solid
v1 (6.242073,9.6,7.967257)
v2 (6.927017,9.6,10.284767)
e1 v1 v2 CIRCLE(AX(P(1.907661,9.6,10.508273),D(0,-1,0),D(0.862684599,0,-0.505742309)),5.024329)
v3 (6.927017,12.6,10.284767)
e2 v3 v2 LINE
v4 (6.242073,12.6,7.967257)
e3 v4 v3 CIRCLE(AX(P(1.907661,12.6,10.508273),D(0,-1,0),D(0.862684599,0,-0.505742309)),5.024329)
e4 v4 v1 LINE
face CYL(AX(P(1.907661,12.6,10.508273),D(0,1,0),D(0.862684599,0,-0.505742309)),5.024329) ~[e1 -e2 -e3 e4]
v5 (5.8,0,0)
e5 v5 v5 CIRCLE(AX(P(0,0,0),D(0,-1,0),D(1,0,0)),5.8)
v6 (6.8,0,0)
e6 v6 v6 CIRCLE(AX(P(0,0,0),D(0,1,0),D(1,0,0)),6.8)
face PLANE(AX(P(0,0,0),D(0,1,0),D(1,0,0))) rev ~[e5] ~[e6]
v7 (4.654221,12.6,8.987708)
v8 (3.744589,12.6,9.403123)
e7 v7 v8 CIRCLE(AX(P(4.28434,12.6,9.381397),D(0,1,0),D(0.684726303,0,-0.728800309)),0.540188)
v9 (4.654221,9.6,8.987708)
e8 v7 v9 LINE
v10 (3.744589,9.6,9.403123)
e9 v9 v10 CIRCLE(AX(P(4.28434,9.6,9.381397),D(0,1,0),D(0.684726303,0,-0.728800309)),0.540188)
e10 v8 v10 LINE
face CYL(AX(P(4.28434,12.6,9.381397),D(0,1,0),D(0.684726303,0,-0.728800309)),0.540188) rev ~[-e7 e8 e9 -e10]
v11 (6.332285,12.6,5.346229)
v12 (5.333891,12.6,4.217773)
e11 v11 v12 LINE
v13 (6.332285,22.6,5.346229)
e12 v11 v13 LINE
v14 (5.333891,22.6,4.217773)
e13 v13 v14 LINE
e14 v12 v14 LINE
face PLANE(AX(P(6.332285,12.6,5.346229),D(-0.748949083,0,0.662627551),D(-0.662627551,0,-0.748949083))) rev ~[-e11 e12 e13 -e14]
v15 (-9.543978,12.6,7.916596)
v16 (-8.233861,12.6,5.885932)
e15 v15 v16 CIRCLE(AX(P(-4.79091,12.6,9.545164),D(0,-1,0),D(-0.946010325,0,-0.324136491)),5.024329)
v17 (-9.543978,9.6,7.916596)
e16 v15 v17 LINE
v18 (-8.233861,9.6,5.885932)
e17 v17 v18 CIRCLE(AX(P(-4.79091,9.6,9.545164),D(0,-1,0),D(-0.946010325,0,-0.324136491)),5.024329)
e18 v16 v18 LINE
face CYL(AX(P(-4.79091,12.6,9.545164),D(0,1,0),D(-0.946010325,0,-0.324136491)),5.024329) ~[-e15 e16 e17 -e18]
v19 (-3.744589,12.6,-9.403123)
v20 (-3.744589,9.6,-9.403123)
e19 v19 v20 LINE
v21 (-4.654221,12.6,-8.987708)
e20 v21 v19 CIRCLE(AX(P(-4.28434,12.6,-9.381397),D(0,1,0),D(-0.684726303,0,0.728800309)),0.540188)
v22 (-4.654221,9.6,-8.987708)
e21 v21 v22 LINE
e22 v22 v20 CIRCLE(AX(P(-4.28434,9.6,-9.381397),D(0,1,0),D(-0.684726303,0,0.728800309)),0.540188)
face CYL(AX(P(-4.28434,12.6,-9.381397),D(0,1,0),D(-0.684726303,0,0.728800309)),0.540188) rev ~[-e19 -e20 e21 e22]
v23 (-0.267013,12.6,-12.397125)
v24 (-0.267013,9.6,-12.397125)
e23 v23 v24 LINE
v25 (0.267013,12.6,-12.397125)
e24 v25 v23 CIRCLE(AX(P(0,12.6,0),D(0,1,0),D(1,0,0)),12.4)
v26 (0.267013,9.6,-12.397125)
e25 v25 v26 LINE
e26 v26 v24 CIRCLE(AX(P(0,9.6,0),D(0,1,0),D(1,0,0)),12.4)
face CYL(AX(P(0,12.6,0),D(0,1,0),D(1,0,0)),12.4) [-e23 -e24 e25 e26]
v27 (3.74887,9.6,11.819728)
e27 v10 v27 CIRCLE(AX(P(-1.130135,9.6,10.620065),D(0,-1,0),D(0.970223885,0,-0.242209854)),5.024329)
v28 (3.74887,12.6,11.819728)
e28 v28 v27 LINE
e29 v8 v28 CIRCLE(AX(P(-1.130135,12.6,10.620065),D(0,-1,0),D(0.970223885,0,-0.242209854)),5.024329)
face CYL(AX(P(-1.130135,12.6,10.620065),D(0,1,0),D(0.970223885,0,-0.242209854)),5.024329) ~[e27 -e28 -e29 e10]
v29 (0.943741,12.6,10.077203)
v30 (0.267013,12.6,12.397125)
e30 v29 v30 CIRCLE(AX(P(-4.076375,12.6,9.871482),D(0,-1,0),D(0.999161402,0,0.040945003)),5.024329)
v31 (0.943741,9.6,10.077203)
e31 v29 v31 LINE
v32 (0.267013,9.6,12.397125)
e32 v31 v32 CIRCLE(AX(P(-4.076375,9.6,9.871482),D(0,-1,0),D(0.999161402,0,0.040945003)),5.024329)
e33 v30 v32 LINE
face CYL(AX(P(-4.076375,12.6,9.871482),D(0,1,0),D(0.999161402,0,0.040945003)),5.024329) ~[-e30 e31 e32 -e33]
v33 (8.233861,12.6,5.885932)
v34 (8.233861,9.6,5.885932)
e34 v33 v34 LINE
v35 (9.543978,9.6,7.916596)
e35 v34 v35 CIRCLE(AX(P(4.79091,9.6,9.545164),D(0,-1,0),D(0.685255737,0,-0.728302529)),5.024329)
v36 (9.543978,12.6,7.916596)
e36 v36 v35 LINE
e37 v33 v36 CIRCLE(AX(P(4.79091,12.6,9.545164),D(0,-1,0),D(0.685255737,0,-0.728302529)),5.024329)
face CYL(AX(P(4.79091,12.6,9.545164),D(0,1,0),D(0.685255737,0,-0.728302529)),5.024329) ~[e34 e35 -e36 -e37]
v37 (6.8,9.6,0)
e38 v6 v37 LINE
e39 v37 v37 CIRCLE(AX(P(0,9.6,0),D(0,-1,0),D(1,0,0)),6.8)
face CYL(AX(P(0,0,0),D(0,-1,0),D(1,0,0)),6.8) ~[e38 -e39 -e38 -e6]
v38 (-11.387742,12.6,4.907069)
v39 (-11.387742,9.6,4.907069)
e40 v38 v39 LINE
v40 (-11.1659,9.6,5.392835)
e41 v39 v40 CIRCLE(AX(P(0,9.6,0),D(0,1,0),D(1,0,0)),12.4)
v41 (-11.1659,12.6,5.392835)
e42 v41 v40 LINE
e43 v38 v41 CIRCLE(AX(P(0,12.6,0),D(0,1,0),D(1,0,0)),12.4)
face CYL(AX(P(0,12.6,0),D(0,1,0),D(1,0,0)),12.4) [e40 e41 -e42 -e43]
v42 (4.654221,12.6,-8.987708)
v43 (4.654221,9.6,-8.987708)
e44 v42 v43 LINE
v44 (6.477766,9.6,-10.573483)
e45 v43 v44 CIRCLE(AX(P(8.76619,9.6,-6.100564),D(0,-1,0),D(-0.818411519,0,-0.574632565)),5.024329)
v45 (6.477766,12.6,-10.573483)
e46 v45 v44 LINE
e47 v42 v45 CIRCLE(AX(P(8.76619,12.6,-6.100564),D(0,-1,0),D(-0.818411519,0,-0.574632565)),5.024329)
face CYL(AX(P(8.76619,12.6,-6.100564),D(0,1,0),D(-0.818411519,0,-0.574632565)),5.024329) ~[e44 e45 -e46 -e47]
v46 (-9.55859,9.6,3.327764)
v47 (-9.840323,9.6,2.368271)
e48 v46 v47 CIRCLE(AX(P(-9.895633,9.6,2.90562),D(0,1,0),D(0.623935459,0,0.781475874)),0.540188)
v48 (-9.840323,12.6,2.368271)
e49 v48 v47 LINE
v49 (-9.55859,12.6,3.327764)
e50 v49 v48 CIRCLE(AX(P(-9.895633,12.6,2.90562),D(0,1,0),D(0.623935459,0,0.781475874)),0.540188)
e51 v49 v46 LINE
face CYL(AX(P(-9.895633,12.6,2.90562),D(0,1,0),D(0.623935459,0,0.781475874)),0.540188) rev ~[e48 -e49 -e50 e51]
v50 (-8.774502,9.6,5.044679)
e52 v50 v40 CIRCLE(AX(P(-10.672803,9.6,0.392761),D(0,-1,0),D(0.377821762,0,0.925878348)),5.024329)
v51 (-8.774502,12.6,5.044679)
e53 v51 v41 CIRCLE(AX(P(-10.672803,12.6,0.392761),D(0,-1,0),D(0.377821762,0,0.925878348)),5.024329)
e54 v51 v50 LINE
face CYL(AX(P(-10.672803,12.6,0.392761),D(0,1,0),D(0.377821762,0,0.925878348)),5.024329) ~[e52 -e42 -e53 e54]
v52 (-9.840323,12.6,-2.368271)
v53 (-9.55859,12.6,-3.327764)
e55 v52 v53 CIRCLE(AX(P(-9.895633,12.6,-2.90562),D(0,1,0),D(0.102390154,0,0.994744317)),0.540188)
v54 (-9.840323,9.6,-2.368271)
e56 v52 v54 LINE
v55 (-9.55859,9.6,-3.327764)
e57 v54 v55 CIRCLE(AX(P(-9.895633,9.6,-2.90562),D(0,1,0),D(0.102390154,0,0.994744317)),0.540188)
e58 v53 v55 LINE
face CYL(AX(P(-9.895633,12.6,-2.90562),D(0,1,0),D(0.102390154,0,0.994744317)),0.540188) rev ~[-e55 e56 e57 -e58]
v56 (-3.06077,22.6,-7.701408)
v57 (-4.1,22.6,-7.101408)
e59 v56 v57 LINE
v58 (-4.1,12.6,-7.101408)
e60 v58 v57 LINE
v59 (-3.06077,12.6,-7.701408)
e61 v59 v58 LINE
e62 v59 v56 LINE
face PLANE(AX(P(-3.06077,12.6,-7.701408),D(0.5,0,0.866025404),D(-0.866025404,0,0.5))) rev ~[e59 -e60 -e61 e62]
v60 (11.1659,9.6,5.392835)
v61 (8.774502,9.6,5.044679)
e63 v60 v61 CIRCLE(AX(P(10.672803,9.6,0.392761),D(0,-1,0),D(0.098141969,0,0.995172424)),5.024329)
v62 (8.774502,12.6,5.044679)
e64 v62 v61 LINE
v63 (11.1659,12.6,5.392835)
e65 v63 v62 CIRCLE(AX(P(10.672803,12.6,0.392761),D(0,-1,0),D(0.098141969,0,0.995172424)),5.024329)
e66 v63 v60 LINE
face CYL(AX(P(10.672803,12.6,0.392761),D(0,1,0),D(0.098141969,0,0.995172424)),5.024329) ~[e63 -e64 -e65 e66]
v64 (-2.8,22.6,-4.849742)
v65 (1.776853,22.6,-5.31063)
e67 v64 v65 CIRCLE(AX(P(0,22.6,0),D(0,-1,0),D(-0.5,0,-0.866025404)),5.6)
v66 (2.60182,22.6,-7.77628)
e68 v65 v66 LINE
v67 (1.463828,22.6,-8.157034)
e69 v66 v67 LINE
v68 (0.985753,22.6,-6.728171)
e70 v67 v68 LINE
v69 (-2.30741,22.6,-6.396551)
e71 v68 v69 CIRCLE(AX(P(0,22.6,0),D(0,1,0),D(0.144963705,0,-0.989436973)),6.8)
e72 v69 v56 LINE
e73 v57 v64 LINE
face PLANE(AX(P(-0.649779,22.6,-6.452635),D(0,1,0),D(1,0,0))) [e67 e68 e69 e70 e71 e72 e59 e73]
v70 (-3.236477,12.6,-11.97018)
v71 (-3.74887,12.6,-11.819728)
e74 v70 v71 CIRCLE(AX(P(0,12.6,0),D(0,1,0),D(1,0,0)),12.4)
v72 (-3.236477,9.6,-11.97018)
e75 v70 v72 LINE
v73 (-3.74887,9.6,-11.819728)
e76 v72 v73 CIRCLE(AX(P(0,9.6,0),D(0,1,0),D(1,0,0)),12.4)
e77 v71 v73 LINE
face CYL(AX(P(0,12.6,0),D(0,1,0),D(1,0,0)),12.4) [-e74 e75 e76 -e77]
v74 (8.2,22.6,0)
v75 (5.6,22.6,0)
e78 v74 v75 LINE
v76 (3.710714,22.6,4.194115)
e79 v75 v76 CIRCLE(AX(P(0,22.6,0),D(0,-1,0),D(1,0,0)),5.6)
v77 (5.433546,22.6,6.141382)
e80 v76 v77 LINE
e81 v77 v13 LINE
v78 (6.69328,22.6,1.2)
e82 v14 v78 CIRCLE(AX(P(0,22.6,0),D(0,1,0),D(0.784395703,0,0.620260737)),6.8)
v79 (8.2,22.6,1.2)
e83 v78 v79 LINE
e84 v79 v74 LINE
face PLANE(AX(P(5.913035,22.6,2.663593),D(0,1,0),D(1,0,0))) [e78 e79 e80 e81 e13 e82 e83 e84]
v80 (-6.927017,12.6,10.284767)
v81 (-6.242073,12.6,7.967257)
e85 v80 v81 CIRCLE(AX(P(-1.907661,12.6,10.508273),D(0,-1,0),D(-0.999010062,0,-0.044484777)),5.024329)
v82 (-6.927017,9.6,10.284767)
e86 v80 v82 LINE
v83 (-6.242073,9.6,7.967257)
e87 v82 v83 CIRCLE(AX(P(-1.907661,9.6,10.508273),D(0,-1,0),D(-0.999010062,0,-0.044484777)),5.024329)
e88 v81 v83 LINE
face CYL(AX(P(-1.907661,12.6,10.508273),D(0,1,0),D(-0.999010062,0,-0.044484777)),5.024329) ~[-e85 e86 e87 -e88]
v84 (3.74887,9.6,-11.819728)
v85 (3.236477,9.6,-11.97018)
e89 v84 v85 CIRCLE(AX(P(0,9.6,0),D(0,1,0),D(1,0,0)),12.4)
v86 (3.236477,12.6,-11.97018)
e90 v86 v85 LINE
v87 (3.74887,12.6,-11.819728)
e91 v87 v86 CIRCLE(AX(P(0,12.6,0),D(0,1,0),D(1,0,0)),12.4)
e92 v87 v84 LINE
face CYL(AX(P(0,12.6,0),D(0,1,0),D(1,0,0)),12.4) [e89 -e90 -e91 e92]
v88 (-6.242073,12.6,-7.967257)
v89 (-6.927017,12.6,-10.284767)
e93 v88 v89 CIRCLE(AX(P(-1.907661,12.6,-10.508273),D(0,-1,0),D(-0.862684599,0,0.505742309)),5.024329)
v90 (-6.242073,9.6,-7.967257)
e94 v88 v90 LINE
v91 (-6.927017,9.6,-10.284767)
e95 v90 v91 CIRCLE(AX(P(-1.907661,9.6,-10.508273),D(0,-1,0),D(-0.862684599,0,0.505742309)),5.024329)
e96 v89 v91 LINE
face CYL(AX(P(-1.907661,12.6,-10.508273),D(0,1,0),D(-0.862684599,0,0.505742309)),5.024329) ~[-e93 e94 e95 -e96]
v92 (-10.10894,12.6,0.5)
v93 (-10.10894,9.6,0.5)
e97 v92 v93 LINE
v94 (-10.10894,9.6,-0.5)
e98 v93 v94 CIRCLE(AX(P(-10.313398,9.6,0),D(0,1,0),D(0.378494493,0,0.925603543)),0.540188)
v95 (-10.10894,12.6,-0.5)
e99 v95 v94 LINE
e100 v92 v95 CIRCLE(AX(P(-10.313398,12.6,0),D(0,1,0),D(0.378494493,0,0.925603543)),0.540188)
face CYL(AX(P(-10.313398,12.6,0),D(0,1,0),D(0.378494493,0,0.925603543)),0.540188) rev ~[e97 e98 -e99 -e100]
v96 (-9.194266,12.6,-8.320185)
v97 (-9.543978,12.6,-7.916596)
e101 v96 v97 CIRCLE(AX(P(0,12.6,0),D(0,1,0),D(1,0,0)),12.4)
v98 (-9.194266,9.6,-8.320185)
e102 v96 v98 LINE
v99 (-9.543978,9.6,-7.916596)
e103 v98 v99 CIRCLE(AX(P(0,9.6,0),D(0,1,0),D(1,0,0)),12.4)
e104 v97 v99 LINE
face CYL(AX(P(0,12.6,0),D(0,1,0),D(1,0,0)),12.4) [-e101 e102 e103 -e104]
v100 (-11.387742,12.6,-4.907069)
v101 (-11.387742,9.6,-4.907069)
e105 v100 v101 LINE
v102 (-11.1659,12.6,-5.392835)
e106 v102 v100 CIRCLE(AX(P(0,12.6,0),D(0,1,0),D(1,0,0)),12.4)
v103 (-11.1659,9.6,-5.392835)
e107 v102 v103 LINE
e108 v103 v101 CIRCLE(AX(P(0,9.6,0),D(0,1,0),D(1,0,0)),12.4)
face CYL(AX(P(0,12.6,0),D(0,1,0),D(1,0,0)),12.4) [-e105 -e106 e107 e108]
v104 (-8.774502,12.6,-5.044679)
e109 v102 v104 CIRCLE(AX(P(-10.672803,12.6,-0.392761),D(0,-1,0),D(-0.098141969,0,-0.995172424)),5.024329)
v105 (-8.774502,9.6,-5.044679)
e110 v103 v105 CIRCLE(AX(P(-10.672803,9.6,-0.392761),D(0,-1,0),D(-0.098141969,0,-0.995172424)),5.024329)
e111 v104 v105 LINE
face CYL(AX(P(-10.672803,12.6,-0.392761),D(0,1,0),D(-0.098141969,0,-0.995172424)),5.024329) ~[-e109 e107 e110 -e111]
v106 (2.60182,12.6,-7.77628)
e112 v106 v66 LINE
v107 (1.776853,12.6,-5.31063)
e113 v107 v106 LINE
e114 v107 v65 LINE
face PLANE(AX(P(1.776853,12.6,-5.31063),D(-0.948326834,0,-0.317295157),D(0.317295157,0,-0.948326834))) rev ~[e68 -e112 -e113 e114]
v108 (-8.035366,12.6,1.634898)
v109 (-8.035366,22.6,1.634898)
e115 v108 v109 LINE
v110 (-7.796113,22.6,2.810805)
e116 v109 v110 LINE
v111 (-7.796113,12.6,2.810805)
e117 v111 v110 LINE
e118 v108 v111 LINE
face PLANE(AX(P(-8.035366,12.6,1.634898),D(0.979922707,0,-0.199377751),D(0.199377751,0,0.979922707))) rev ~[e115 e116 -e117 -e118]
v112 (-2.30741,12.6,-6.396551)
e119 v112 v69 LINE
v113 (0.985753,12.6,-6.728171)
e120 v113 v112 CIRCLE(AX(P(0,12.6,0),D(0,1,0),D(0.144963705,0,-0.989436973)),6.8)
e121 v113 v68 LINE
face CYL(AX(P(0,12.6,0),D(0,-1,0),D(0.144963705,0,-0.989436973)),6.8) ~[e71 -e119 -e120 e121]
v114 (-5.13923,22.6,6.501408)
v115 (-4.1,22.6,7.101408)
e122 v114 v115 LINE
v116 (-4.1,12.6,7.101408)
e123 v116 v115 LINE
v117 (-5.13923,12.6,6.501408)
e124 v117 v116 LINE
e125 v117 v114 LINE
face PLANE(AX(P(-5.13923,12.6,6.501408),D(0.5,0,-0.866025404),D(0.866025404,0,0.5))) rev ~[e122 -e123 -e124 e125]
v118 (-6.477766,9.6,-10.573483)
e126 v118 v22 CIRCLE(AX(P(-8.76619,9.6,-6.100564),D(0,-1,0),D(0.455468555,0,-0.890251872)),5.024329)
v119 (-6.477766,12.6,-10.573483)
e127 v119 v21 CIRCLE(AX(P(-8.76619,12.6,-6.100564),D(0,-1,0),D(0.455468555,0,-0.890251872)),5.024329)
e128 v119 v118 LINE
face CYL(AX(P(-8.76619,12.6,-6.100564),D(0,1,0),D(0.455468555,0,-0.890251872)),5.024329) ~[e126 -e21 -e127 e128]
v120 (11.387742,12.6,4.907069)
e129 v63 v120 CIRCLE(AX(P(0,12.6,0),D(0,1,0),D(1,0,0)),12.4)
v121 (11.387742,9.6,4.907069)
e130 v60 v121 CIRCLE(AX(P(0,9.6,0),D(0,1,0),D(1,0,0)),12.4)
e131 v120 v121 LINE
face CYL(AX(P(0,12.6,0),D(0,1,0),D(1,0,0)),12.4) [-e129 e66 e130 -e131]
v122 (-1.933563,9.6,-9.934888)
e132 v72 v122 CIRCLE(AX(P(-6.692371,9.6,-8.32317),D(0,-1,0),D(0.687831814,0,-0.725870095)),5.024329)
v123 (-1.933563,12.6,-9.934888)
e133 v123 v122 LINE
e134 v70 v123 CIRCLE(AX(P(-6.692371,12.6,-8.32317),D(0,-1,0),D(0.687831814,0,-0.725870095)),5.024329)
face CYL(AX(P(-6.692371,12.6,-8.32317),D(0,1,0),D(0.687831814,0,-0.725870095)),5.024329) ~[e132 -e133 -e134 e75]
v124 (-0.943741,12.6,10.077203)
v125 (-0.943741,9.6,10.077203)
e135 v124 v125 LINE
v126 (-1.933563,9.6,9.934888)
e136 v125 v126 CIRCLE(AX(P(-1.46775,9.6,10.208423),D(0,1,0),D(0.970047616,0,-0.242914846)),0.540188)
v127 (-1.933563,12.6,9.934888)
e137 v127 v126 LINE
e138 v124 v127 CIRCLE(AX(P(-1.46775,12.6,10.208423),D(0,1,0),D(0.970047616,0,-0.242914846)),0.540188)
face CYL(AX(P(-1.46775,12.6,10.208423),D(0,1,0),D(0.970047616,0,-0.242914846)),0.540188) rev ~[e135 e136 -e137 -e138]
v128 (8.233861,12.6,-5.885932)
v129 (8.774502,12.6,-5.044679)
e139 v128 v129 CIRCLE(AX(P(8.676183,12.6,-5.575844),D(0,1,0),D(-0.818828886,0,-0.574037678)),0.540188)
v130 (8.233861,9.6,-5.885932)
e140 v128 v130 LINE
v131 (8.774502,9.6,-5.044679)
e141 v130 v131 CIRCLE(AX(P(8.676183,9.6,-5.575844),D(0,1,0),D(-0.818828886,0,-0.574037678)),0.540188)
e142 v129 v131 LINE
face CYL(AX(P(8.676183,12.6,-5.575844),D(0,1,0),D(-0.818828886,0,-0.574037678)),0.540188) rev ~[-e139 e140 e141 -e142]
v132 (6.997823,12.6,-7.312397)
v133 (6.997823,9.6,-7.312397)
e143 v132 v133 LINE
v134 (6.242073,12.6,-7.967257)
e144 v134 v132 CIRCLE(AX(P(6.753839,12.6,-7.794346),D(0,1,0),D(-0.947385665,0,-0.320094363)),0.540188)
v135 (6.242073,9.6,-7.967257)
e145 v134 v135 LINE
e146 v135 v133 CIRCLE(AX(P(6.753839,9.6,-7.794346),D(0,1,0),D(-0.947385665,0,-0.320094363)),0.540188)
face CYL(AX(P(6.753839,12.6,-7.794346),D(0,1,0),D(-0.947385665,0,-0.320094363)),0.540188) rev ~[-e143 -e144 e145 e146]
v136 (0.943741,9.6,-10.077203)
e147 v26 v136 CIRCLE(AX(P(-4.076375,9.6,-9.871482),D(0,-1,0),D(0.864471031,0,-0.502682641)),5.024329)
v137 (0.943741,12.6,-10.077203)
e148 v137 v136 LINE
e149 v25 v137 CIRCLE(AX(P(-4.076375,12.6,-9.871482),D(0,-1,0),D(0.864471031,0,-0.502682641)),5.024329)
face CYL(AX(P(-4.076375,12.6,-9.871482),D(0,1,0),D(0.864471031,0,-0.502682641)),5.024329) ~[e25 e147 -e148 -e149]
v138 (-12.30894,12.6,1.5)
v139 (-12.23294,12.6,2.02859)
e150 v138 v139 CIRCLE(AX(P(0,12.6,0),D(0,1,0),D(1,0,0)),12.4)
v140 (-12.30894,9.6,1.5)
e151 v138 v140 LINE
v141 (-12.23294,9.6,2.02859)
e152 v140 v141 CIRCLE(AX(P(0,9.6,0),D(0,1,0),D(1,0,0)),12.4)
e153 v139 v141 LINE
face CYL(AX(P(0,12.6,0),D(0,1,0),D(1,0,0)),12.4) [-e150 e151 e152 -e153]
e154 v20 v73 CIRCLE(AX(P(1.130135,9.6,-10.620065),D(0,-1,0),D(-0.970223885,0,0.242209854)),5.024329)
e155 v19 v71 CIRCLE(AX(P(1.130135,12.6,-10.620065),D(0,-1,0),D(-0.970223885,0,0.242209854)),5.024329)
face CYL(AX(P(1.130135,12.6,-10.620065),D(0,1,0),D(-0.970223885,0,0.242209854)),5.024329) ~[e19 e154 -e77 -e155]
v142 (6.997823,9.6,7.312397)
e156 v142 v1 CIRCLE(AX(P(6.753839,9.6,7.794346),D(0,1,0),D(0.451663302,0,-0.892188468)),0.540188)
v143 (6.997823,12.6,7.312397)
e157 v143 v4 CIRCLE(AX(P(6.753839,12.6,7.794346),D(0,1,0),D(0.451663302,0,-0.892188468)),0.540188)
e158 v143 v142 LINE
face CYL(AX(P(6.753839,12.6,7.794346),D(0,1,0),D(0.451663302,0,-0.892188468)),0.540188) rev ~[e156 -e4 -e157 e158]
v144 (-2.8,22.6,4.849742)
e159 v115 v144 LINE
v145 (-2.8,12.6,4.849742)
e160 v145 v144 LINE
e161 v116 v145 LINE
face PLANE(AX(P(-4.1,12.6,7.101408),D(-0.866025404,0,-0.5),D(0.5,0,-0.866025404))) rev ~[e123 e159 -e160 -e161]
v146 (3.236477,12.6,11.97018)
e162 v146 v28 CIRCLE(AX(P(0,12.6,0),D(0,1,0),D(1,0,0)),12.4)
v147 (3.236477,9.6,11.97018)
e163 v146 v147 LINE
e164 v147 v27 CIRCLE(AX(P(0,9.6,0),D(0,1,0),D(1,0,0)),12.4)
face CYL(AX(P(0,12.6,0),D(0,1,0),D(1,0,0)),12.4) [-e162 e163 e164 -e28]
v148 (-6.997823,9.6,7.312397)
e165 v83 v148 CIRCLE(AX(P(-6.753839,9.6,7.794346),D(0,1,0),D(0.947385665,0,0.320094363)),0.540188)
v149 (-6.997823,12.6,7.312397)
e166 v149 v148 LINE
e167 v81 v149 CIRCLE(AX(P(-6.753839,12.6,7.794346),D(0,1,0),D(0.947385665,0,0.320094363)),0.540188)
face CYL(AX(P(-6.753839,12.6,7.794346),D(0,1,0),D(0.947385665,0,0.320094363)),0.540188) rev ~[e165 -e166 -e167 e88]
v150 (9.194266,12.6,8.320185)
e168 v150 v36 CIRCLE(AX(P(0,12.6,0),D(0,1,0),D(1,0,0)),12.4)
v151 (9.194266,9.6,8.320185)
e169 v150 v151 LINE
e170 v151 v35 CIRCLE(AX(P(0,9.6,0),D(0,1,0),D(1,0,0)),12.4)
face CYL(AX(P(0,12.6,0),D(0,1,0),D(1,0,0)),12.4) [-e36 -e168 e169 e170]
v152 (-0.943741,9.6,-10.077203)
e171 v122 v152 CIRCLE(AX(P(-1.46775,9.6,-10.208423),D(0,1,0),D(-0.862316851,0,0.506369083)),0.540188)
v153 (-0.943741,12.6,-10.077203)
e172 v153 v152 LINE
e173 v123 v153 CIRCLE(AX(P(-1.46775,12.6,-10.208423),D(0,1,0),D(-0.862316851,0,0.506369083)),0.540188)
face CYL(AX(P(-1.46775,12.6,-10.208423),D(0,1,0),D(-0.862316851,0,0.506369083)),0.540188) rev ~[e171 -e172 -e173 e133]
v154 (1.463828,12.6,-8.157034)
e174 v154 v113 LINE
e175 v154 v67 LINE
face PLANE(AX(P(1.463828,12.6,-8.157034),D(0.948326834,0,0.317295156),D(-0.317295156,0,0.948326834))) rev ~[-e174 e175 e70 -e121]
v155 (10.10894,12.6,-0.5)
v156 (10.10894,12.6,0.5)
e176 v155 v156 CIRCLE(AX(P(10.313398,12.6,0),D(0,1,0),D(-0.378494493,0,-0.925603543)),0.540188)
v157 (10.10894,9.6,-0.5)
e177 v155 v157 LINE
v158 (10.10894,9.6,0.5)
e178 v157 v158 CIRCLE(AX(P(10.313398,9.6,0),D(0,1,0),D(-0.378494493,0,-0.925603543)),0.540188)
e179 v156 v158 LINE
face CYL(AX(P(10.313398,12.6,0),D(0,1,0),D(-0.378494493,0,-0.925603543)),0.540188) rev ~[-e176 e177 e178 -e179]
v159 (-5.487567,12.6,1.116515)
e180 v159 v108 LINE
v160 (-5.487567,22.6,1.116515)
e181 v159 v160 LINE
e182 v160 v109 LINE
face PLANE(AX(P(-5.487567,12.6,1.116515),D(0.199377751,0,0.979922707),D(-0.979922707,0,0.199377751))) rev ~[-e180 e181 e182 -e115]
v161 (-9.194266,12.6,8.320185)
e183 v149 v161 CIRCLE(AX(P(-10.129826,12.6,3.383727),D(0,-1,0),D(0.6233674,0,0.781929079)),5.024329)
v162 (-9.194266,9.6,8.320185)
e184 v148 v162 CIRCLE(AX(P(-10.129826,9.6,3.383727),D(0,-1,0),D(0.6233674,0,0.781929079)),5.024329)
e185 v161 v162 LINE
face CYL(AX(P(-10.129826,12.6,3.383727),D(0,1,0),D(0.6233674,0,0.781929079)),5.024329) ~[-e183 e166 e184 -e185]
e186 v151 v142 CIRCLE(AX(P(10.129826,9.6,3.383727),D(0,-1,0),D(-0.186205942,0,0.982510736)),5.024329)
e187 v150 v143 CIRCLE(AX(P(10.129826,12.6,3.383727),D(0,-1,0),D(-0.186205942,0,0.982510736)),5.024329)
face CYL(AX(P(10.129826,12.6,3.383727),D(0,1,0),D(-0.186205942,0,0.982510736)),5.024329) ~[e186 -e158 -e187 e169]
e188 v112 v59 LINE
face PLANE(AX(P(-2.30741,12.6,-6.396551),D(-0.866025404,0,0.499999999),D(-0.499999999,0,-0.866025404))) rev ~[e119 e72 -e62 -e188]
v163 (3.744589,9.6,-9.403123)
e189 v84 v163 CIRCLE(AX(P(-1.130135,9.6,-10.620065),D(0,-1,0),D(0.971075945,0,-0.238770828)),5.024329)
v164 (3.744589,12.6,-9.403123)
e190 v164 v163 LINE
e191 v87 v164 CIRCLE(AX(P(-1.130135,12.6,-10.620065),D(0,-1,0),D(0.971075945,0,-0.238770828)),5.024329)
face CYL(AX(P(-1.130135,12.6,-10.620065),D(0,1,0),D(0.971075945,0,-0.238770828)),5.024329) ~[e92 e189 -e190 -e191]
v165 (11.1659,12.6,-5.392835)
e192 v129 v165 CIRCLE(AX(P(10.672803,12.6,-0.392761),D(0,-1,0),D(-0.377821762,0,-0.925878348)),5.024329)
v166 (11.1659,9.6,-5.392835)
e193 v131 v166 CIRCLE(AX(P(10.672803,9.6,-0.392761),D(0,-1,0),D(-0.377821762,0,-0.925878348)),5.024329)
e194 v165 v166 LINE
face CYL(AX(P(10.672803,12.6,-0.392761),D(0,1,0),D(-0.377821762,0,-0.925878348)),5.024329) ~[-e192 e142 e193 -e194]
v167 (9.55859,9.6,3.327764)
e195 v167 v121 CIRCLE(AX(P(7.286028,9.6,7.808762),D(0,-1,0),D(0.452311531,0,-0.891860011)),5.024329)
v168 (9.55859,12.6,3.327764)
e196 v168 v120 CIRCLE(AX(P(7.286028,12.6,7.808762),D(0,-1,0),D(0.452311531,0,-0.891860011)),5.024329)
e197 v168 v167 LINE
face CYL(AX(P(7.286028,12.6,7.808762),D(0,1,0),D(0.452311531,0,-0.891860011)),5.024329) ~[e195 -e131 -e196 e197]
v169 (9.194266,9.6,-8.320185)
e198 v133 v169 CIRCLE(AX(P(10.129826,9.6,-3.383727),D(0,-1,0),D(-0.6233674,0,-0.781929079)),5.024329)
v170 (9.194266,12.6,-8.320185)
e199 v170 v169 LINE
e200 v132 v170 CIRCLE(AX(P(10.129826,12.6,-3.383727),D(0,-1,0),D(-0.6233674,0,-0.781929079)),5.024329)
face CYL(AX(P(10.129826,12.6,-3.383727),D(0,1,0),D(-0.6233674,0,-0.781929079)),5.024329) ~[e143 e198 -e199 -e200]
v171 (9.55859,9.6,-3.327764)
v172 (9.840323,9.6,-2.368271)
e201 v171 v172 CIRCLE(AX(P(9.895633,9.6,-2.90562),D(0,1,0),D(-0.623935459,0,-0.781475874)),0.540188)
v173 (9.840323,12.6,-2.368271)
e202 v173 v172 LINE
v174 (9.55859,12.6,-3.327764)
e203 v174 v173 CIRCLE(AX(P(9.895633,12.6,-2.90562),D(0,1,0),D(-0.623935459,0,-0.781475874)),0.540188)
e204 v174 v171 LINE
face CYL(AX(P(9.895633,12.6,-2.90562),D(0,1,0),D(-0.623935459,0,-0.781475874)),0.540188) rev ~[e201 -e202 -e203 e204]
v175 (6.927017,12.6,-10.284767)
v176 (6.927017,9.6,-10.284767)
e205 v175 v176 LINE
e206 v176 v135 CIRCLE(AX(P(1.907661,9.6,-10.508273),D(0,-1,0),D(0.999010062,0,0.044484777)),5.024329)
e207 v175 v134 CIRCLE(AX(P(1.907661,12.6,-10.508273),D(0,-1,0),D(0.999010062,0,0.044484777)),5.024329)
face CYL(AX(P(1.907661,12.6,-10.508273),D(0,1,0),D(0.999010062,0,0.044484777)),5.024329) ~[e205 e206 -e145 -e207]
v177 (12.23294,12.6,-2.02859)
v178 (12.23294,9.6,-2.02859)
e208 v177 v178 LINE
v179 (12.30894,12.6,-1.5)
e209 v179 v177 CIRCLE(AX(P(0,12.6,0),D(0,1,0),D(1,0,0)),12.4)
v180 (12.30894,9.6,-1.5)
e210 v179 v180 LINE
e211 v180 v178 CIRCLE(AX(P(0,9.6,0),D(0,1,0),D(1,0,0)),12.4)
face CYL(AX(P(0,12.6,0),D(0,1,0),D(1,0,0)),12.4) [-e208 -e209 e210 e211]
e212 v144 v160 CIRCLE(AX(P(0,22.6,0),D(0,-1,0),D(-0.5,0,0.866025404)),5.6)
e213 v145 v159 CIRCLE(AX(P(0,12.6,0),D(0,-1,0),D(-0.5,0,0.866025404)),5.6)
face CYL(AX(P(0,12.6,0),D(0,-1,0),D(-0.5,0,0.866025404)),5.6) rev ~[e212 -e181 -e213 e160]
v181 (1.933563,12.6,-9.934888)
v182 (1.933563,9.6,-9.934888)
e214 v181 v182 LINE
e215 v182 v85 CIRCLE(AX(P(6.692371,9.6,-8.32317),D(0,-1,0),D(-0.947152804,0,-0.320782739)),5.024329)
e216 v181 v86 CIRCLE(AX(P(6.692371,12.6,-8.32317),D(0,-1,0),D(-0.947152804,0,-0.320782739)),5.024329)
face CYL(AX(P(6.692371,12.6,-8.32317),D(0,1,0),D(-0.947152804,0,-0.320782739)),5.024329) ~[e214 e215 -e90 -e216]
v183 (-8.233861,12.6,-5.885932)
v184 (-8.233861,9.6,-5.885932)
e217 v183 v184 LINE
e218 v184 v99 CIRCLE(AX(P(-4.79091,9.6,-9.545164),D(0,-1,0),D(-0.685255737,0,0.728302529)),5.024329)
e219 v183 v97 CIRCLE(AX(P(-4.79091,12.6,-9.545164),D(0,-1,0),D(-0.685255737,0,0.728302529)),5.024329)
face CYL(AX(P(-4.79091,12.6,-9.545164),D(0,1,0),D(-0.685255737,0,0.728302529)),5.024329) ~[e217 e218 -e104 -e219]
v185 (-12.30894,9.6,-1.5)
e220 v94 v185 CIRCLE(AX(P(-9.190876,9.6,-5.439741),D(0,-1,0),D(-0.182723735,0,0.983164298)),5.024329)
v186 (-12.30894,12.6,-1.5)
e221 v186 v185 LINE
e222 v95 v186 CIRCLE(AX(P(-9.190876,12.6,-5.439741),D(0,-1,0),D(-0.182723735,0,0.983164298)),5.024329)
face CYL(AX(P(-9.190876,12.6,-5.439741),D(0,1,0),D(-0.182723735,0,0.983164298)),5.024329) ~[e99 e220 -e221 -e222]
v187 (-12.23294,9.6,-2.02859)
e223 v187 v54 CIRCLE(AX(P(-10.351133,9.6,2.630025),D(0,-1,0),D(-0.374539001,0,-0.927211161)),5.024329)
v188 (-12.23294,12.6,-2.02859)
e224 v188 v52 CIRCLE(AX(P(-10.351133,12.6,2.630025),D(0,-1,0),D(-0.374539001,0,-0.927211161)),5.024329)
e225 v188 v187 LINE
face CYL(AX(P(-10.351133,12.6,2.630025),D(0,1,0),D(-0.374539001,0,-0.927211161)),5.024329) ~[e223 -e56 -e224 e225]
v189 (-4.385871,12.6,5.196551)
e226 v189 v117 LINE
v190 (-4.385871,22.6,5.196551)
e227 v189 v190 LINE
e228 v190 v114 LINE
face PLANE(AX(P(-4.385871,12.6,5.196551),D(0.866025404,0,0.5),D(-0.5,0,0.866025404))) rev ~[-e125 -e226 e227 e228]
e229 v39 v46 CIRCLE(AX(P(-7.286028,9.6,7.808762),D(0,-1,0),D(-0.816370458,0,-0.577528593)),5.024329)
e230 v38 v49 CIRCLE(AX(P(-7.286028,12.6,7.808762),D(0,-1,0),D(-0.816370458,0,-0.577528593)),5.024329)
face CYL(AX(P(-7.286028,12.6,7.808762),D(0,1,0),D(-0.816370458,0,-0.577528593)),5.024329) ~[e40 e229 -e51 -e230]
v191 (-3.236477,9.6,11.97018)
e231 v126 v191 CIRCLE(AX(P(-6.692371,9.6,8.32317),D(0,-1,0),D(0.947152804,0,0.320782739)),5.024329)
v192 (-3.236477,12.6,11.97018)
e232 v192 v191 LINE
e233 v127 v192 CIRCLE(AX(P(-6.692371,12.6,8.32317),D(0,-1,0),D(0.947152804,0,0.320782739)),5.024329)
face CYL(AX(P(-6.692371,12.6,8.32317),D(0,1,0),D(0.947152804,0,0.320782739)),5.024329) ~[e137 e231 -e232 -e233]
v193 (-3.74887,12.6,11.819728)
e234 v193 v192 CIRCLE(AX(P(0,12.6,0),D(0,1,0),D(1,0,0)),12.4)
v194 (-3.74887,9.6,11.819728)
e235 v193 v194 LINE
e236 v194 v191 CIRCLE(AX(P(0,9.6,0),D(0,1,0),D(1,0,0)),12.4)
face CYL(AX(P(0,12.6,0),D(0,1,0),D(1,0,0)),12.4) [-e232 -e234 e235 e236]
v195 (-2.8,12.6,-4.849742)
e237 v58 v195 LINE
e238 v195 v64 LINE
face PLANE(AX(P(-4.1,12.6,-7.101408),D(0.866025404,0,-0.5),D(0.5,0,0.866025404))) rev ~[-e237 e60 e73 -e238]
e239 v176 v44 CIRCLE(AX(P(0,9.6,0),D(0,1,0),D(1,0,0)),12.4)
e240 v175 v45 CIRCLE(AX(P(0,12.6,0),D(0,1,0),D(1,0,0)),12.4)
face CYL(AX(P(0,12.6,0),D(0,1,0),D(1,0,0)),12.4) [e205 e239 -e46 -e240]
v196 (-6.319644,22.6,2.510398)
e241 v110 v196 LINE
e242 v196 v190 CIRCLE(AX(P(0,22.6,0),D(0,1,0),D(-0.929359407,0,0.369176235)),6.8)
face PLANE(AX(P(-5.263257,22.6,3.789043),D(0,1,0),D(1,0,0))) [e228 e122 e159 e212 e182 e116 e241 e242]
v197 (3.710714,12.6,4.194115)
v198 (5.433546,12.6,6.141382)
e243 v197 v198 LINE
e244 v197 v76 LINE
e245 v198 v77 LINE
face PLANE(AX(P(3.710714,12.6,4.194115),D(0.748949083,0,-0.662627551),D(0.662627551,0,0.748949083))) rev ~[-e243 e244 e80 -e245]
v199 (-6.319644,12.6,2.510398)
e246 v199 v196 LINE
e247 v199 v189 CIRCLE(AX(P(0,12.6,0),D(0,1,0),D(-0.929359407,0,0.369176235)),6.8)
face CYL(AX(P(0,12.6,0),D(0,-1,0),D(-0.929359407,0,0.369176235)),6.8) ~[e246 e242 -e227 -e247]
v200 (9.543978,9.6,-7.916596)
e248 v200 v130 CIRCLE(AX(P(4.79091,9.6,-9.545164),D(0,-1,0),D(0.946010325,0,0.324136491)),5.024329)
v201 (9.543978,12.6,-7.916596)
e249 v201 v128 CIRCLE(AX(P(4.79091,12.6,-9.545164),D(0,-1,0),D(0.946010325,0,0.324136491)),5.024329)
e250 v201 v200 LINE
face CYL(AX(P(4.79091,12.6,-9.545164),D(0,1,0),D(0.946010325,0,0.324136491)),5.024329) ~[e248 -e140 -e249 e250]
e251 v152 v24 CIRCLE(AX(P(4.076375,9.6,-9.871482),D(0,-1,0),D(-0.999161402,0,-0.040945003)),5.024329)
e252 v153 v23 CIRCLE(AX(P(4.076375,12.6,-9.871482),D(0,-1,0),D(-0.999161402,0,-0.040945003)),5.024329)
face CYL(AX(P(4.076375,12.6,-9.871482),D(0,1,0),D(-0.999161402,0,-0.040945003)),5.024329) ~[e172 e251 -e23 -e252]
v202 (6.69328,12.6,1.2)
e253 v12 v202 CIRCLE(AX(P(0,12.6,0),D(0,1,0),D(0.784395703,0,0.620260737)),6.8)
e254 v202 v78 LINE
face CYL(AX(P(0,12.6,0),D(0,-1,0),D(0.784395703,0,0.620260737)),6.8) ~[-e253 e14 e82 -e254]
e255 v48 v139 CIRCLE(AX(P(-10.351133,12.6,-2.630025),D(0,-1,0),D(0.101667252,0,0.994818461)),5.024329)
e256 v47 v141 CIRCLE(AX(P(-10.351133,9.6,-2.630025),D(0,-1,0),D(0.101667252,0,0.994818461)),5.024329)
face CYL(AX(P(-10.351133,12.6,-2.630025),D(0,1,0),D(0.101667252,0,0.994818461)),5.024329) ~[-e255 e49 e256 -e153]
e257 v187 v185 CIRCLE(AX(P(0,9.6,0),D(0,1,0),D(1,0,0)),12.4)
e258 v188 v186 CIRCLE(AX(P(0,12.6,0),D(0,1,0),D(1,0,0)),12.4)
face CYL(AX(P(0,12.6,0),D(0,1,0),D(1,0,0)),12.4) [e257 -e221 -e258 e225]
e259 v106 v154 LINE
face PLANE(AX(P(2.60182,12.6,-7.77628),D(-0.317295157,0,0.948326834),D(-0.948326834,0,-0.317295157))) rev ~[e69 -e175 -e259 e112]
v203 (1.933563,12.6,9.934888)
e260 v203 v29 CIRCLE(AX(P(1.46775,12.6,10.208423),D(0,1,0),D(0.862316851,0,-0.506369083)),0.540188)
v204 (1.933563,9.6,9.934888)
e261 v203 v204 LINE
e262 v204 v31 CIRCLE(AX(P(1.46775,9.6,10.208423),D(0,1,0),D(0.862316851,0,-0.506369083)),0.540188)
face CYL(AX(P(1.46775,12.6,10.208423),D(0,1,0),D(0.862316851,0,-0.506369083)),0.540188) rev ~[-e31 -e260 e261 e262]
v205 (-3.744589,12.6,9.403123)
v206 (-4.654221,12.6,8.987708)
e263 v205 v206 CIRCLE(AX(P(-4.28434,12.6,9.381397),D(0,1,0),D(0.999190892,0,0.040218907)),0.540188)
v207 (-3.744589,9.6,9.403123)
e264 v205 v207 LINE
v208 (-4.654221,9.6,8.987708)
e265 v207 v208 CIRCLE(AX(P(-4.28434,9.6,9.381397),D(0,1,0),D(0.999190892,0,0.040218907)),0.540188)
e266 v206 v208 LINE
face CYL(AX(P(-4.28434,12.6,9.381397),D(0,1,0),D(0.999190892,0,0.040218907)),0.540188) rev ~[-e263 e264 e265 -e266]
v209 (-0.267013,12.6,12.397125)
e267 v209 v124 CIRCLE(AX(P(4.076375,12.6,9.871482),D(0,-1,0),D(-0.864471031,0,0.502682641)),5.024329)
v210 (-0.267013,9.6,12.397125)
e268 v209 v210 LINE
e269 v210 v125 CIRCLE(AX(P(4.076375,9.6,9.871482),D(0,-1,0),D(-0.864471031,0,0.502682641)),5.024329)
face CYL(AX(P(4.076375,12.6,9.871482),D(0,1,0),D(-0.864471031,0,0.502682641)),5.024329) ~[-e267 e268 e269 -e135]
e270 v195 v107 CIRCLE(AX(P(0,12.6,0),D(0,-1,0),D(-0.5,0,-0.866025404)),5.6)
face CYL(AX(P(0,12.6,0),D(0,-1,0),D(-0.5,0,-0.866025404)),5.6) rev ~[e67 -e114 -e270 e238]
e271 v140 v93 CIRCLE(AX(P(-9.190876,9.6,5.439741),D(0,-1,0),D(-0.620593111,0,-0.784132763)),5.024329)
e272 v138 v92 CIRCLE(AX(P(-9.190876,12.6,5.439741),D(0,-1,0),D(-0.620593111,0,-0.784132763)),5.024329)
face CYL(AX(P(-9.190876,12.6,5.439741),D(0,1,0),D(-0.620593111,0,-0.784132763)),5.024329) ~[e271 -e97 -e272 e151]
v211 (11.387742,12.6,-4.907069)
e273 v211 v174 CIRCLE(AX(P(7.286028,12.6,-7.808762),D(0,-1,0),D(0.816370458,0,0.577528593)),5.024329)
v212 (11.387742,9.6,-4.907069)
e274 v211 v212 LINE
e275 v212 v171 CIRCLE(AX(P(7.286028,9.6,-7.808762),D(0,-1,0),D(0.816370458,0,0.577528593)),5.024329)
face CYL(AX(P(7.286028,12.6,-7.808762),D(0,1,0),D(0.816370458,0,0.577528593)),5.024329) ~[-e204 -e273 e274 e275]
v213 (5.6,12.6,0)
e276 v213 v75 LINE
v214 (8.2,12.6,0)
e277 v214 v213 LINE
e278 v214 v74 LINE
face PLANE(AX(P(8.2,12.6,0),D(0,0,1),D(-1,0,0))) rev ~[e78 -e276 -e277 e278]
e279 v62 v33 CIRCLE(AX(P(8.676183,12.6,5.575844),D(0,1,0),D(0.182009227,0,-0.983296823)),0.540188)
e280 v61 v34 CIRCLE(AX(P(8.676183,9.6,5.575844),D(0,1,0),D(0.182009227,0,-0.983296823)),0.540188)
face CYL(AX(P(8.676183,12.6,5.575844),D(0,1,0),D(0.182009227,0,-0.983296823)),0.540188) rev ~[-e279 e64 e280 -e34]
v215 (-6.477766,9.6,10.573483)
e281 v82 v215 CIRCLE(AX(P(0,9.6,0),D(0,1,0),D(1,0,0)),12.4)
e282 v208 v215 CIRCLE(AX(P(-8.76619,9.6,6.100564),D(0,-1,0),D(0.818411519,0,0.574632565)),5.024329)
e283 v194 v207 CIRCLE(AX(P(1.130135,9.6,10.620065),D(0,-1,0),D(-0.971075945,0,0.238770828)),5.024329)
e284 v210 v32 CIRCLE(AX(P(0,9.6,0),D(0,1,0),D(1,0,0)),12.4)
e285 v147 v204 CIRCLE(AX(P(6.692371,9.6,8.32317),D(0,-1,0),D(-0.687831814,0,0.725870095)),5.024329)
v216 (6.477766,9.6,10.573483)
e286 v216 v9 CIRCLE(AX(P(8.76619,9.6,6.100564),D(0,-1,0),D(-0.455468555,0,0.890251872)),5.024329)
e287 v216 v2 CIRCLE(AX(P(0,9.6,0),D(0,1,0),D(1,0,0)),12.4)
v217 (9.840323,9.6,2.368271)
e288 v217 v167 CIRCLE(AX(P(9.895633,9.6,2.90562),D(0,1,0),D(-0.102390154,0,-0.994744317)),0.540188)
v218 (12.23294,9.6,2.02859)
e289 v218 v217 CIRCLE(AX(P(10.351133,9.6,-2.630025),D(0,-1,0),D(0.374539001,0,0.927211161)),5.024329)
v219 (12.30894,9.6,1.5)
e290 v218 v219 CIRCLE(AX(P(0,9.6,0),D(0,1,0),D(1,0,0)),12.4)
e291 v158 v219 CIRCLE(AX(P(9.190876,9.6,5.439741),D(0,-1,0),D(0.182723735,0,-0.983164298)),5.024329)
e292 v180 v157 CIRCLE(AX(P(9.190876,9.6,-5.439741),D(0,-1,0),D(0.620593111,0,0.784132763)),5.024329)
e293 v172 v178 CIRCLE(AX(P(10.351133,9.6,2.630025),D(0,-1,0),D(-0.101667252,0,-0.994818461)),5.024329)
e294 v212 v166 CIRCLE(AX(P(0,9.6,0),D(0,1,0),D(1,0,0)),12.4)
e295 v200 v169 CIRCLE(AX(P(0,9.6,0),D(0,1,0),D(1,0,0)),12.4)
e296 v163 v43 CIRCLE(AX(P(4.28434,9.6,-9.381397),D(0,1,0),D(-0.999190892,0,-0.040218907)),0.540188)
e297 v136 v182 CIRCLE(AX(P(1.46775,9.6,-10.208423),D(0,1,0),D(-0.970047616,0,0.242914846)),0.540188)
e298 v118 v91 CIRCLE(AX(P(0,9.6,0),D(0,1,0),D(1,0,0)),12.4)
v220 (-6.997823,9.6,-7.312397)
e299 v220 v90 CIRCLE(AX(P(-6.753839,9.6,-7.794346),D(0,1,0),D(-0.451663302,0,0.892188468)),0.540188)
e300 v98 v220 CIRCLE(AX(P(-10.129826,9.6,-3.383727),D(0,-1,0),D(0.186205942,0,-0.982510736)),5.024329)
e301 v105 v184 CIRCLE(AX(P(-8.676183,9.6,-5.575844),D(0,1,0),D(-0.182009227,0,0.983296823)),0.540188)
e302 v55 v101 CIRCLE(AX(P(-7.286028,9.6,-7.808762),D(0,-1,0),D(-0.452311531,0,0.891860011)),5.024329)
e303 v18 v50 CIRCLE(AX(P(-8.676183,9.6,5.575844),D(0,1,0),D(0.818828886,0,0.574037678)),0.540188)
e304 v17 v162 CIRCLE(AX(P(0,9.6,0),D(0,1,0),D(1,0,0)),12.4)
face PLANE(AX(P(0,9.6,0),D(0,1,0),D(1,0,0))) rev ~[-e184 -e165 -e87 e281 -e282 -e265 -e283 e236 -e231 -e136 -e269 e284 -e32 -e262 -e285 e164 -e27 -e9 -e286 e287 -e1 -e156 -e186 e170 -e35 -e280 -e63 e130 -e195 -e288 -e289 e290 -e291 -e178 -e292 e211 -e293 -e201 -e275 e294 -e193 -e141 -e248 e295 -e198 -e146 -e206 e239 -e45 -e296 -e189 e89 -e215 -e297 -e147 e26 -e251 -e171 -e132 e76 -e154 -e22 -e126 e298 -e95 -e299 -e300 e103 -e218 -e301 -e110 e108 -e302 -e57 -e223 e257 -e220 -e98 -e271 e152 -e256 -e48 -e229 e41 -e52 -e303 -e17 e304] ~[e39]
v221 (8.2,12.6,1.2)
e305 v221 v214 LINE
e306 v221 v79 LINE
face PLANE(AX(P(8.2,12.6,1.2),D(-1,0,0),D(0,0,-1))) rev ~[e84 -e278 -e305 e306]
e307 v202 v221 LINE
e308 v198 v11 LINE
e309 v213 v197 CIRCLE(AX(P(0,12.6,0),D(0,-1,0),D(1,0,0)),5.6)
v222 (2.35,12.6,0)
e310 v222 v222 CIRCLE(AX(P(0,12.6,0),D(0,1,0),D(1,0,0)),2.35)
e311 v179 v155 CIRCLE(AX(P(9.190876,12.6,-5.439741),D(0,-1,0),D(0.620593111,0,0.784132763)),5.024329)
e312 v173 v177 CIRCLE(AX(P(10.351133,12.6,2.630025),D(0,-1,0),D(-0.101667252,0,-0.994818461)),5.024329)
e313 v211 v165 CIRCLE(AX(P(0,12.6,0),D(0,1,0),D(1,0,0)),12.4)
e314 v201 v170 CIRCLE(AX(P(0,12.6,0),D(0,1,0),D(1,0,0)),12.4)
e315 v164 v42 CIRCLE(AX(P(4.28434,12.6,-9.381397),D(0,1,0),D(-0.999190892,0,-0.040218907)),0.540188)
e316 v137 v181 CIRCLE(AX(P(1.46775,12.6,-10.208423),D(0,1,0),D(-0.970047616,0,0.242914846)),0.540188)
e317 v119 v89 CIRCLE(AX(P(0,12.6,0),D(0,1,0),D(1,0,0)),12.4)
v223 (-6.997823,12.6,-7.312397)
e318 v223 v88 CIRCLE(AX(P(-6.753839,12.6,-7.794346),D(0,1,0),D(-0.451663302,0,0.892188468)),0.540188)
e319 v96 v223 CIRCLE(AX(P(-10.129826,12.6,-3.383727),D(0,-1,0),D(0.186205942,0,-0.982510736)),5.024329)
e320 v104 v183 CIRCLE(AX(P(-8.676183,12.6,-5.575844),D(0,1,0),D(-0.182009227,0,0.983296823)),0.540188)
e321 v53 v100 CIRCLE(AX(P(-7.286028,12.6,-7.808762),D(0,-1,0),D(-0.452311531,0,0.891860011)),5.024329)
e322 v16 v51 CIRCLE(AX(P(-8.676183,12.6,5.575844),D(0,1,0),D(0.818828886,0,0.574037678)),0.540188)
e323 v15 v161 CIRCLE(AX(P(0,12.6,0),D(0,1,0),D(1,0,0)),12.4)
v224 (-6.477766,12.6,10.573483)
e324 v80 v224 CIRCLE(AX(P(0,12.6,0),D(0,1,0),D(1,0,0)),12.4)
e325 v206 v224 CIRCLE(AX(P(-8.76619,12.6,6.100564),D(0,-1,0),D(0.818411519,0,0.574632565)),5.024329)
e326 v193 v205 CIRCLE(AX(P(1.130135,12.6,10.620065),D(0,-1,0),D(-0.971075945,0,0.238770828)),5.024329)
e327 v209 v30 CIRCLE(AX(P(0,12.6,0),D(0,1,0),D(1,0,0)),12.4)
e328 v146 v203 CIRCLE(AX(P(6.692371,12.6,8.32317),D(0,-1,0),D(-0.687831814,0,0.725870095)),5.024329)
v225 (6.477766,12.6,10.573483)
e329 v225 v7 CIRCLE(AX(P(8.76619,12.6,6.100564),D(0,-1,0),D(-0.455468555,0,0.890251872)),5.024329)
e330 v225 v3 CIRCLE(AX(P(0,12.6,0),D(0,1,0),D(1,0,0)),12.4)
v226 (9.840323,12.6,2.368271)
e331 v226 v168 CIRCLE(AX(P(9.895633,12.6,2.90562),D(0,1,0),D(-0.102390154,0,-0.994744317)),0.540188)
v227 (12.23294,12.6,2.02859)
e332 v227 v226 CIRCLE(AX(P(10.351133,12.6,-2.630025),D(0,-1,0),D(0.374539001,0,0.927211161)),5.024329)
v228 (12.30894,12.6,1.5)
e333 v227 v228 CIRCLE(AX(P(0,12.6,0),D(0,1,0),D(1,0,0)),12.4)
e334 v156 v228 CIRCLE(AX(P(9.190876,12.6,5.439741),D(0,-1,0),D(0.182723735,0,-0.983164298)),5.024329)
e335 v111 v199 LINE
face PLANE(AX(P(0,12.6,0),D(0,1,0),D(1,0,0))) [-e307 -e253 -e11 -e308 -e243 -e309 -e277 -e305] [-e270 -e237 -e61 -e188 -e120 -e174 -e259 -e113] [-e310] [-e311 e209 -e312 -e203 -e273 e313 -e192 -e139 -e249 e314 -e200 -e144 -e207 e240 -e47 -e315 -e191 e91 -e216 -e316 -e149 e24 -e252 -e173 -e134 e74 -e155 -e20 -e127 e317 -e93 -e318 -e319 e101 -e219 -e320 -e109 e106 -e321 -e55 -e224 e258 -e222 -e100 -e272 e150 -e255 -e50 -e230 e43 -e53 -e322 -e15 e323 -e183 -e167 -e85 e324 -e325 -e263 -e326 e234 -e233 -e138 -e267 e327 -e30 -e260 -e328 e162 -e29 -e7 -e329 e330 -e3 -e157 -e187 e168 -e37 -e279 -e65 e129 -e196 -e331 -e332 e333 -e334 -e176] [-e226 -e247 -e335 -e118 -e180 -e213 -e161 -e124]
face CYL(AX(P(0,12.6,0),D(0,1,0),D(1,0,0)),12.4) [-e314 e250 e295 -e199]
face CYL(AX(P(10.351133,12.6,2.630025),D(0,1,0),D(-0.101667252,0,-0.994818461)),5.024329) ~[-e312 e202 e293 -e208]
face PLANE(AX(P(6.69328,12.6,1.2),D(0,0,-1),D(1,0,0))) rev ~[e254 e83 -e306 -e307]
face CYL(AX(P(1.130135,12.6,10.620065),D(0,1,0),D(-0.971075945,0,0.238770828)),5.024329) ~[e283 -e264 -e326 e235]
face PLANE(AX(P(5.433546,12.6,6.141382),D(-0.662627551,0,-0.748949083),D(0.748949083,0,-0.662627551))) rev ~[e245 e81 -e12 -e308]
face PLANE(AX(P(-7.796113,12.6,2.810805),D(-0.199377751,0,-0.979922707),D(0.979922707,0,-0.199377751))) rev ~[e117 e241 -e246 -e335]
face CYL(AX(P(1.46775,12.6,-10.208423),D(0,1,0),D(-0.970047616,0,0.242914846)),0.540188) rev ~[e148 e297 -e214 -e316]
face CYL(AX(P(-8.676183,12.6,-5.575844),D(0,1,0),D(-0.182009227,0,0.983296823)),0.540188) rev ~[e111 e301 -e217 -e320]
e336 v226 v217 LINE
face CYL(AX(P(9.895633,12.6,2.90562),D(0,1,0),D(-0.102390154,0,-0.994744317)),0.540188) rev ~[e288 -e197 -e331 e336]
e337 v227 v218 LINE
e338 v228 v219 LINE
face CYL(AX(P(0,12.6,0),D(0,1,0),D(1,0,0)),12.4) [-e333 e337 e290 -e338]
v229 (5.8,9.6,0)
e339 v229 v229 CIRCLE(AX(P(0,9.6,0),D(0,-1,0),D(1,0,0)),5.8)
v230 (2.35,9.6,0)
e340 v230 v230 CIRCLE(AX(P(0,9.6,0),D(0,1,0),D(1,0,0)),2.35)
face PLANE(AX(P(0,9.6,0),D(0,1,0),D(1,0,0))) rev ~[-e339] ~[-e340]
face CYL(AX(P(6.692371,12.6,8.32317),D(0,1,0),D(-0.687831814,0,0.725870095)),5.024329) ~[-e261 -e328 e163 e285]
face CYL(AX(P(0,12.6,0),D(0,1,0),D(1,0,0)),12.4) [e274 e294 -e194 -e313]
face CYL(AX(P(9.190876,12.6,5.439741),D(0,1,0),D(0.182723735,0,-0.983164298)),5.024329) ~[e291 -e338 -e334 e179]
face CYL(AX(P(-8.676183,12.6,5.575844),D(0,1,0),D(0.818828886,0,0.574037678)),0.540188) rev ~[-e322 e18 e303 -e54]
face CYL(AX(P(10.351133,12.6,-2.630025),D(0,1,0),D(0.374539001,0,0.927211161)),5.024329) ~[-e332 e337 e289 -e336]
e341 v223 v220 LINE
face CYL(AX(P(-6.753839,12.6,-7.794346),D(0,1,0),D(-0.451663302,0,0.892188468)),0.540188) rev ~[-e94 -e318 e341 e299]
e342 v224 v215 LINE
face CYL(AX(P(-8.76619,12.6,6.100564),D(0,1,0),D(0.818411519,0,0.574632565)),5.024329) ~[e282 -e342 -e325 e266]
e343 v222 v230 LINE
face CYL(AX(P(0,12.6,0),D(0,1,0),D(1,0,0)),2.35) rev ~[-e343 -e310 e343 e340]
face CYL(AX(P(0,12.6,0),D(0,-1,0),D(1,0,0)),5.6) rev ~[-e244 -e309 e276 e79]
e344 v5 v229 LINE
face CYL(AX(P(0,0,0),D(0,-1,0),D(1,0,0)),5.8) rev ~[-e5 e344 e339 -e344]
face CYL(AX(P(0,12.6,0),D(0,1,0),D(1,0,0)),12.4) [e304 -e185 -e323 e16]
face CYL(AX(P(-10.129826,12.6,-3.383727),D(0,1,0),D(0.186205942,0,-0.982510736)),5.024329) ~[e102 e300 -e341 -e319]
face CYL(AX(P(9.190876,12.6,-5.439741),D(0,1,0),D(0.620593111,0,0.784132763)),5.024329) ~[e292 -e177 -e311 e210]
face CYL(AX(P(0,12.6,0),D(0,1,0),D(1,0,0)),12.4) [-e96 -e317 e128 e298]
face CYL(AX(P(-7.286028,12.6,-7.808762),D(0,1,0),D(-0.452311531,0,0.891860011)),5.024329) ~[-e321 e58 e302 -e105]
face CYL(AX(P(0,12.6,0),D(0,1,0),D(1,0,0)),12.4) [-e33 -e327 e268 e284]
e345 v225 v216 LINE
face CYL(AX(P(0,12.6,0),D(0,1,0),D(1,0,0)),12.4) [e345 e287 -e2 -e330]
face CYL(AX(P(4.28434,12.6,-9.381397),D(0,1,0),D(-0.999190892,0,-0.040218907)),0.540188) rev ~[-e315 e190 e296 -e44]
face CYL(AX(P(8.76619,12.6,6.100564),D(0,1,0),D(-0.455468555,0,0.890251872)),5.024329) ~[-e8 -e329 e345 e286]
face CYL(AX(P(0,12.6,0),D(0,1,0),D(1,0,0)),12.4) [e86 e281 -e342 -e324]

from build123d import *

# Parameters (mm, degrees)
SKETCH1_R           = 6.8
BOSS_EXTRUDE1_DEPTH = 12.6
SKETCH2_R           = 5.8
CUT_EXTRUDE1_DEPTH  = 13.6
SKETCH3_R           = 12.4
BOSS_EXTRUDE3_DEPTH = 3
SKETCH4_R           = 2.35
CUT_EXTRUDE2_DEPTH  = 3
CUT_EXTRUDE3_DEPTH  = 3
CIRPATTERN1_COUNT   = 22
BOSS_EXTRUDE4_DEPTH = 10


with BuildPart() as part:
    # Sketch1 → Boss-Extrude1 (new body)
    with BuildSketch(Plane(origin=(0, 0, 0), x_dir=(1, 0, 0), z_dir=(0, 1, 0))):
        Circle(SKETCH1_R)
    extrude(amount=BOSS_EXTRUDE1_DEPTH)

    # Sketch2 → Cut-Extrude1 (cut, through all)
    with BuildSketch(Plane.XZ):
        Circle(SKETCH2_R)
    extrude(amount=-CUT_EXTRUDE1_DEPTH, mode=Mode.SUBTRACT)

    # Sketch3 → Boss-Extrude3 (add)
    with BuildSketch(Plane(origin=(0, 12.6, 0), x_dir=(1, 0, 0), z_dir=(0, 1, 0))):
        Circle(SKETCH3_R)
    extrude(amount=-BOSS_EXTRUDE3_DEPTH)

    # Sketch4 → Cut-Extrude2 (cut)
    with BuildSketch(Plane(origin=(0, 12.6, 0), x_dir=(1, 0, 0), z_dir=(0, 1, 0))):
        Circle(SKETCH4_R)
    extrude(amount=-CUT_EXTRUDE2_DEPTH, mode=Mode.SUBTRACT)

    # Sketch5 → Cut-Extrude3 (cut)
    with BuildSketch(Plane(origin=(0, 12.6, 0), x_dir=(1, 0, 0), z_dir=(0, 1, 0))):
        with BuildLine():
            ThreePointArc((12.308939841, -1.5), (12.4, 0), (12.308939841, 1.5))
            ThreePointArc((12.308939841, 1.5), (11.269957917, 0.865760233), (10.108939841, 0.5))
            ThreePointArc((10.108939841, 0.5), (9.773209975, 0), (10.108939841, -0.5))
            ThreePointArc((10.108939841, -0.5), (11.269957917, -0.865760233), (12.308939841, -1.5))
        make_face()
    cut_extrude3 = extrude(amount=-CUT_EXTRUDE3_DEPTH, mode=Mode.SUBTRACT)

    # CirPattern1: Cut-Extrude3 ×22 about axis
    cirpattern1_axis = Axis((0, 0, 0), (0, 1, 0))
    for i in range(1, CIRPATTERN1_COUNT):
        add(cut_extrude3.rotate(cirpattern1_axis, i * 360 / CIRPATTERN1_COUNT), mode=Mode.SUBTRACT)

    # Sketch6 → Boss-Extrude4 (add)
    with BuildSketch(Plane(origin=(0, 12.6, 0), x_dir=(1, 0, 0), z_dir=(0, 1, 0))):
        with BuildLine():
            Line((8.2, 0), (5.6, 0))
            ThreePointArc((5.6, 0), (5.105878964, -2.3), (3.710714286, -4.194114864))
            Line((3.710714286, -4.194114864), (5.433545918, -6.141382479))
            Line((5.433545918, -6.141382479), (6.332284818, -5.346229418))
            Line((6.332284818, -5.346229418), (5.333890775, -4.217773015))
            ThreePointArc((5.333890775, -4.217773015), (6.199995885, -2.792857143), (6.693280212, -1.2))
            Line((6.693280212, -1.2), (8.2, -1.2))
            Line((8.2, -1.2), (8.2, 0))
        make_face()
        with BuildLine():
            Line((-8.0353662, -1.634897558), (-7.796112899, -2.810804807))
            Line((-7.796112899, -2.810804807), (-6.319643965, -2.510398405))
            ThreePointArc((-6.319643965, -2.510398405), (-5.518683178, -3.972925369), (-4.385870591, -5.196550698))
            Line((-4.385870591, -5.196550698), (-5.139230485, -6.501408311))
            Line((-5.139230485, -6.501408311), (-4.1, -7.101408311))
            Line((-4.1, -7.101408311), (-2.8, -4.849742261))
            ThreePointArc((-2.8, -4.849742261), (-4.544797911, -3.271820892), (-5.487567161, -1.116515406))
            Line((-5.487567161, -1.116515406), (-8.0353662, -1.634897558))
        make_face()
        with BuildLine():
            Line((2.601820282, 7.776280037), (1.463828081, 8.157034225))
            Line((1.463828081, 8.157034225), (0.985753191, 6.728171419))
            ThreePointArc((0.985753191, 6.728171419), (-0.681312708, 6.765782512), (-2.307409622, 6.396550698))
            Line((-2.307409622, 6.396550698), (-3.060769515, 7.701408311))
            Line((-3.060769515, 7.701408311), (-4.1, 7.101408311))
            Line((-4.1, 7.101408311), (-2.8, 4.849742261))
            ThreePointArc((-2.8, 4.849742261), (-0.561081054, 5.571820892), (1.776852875, 5.310630269))
            Line((1.776852875, 5.310630269), (2.601820282, 7.776280037))
        make_face()
    extrude(amount=BOSS_EXTRUDE4_DEPTH)


solid = part.part
